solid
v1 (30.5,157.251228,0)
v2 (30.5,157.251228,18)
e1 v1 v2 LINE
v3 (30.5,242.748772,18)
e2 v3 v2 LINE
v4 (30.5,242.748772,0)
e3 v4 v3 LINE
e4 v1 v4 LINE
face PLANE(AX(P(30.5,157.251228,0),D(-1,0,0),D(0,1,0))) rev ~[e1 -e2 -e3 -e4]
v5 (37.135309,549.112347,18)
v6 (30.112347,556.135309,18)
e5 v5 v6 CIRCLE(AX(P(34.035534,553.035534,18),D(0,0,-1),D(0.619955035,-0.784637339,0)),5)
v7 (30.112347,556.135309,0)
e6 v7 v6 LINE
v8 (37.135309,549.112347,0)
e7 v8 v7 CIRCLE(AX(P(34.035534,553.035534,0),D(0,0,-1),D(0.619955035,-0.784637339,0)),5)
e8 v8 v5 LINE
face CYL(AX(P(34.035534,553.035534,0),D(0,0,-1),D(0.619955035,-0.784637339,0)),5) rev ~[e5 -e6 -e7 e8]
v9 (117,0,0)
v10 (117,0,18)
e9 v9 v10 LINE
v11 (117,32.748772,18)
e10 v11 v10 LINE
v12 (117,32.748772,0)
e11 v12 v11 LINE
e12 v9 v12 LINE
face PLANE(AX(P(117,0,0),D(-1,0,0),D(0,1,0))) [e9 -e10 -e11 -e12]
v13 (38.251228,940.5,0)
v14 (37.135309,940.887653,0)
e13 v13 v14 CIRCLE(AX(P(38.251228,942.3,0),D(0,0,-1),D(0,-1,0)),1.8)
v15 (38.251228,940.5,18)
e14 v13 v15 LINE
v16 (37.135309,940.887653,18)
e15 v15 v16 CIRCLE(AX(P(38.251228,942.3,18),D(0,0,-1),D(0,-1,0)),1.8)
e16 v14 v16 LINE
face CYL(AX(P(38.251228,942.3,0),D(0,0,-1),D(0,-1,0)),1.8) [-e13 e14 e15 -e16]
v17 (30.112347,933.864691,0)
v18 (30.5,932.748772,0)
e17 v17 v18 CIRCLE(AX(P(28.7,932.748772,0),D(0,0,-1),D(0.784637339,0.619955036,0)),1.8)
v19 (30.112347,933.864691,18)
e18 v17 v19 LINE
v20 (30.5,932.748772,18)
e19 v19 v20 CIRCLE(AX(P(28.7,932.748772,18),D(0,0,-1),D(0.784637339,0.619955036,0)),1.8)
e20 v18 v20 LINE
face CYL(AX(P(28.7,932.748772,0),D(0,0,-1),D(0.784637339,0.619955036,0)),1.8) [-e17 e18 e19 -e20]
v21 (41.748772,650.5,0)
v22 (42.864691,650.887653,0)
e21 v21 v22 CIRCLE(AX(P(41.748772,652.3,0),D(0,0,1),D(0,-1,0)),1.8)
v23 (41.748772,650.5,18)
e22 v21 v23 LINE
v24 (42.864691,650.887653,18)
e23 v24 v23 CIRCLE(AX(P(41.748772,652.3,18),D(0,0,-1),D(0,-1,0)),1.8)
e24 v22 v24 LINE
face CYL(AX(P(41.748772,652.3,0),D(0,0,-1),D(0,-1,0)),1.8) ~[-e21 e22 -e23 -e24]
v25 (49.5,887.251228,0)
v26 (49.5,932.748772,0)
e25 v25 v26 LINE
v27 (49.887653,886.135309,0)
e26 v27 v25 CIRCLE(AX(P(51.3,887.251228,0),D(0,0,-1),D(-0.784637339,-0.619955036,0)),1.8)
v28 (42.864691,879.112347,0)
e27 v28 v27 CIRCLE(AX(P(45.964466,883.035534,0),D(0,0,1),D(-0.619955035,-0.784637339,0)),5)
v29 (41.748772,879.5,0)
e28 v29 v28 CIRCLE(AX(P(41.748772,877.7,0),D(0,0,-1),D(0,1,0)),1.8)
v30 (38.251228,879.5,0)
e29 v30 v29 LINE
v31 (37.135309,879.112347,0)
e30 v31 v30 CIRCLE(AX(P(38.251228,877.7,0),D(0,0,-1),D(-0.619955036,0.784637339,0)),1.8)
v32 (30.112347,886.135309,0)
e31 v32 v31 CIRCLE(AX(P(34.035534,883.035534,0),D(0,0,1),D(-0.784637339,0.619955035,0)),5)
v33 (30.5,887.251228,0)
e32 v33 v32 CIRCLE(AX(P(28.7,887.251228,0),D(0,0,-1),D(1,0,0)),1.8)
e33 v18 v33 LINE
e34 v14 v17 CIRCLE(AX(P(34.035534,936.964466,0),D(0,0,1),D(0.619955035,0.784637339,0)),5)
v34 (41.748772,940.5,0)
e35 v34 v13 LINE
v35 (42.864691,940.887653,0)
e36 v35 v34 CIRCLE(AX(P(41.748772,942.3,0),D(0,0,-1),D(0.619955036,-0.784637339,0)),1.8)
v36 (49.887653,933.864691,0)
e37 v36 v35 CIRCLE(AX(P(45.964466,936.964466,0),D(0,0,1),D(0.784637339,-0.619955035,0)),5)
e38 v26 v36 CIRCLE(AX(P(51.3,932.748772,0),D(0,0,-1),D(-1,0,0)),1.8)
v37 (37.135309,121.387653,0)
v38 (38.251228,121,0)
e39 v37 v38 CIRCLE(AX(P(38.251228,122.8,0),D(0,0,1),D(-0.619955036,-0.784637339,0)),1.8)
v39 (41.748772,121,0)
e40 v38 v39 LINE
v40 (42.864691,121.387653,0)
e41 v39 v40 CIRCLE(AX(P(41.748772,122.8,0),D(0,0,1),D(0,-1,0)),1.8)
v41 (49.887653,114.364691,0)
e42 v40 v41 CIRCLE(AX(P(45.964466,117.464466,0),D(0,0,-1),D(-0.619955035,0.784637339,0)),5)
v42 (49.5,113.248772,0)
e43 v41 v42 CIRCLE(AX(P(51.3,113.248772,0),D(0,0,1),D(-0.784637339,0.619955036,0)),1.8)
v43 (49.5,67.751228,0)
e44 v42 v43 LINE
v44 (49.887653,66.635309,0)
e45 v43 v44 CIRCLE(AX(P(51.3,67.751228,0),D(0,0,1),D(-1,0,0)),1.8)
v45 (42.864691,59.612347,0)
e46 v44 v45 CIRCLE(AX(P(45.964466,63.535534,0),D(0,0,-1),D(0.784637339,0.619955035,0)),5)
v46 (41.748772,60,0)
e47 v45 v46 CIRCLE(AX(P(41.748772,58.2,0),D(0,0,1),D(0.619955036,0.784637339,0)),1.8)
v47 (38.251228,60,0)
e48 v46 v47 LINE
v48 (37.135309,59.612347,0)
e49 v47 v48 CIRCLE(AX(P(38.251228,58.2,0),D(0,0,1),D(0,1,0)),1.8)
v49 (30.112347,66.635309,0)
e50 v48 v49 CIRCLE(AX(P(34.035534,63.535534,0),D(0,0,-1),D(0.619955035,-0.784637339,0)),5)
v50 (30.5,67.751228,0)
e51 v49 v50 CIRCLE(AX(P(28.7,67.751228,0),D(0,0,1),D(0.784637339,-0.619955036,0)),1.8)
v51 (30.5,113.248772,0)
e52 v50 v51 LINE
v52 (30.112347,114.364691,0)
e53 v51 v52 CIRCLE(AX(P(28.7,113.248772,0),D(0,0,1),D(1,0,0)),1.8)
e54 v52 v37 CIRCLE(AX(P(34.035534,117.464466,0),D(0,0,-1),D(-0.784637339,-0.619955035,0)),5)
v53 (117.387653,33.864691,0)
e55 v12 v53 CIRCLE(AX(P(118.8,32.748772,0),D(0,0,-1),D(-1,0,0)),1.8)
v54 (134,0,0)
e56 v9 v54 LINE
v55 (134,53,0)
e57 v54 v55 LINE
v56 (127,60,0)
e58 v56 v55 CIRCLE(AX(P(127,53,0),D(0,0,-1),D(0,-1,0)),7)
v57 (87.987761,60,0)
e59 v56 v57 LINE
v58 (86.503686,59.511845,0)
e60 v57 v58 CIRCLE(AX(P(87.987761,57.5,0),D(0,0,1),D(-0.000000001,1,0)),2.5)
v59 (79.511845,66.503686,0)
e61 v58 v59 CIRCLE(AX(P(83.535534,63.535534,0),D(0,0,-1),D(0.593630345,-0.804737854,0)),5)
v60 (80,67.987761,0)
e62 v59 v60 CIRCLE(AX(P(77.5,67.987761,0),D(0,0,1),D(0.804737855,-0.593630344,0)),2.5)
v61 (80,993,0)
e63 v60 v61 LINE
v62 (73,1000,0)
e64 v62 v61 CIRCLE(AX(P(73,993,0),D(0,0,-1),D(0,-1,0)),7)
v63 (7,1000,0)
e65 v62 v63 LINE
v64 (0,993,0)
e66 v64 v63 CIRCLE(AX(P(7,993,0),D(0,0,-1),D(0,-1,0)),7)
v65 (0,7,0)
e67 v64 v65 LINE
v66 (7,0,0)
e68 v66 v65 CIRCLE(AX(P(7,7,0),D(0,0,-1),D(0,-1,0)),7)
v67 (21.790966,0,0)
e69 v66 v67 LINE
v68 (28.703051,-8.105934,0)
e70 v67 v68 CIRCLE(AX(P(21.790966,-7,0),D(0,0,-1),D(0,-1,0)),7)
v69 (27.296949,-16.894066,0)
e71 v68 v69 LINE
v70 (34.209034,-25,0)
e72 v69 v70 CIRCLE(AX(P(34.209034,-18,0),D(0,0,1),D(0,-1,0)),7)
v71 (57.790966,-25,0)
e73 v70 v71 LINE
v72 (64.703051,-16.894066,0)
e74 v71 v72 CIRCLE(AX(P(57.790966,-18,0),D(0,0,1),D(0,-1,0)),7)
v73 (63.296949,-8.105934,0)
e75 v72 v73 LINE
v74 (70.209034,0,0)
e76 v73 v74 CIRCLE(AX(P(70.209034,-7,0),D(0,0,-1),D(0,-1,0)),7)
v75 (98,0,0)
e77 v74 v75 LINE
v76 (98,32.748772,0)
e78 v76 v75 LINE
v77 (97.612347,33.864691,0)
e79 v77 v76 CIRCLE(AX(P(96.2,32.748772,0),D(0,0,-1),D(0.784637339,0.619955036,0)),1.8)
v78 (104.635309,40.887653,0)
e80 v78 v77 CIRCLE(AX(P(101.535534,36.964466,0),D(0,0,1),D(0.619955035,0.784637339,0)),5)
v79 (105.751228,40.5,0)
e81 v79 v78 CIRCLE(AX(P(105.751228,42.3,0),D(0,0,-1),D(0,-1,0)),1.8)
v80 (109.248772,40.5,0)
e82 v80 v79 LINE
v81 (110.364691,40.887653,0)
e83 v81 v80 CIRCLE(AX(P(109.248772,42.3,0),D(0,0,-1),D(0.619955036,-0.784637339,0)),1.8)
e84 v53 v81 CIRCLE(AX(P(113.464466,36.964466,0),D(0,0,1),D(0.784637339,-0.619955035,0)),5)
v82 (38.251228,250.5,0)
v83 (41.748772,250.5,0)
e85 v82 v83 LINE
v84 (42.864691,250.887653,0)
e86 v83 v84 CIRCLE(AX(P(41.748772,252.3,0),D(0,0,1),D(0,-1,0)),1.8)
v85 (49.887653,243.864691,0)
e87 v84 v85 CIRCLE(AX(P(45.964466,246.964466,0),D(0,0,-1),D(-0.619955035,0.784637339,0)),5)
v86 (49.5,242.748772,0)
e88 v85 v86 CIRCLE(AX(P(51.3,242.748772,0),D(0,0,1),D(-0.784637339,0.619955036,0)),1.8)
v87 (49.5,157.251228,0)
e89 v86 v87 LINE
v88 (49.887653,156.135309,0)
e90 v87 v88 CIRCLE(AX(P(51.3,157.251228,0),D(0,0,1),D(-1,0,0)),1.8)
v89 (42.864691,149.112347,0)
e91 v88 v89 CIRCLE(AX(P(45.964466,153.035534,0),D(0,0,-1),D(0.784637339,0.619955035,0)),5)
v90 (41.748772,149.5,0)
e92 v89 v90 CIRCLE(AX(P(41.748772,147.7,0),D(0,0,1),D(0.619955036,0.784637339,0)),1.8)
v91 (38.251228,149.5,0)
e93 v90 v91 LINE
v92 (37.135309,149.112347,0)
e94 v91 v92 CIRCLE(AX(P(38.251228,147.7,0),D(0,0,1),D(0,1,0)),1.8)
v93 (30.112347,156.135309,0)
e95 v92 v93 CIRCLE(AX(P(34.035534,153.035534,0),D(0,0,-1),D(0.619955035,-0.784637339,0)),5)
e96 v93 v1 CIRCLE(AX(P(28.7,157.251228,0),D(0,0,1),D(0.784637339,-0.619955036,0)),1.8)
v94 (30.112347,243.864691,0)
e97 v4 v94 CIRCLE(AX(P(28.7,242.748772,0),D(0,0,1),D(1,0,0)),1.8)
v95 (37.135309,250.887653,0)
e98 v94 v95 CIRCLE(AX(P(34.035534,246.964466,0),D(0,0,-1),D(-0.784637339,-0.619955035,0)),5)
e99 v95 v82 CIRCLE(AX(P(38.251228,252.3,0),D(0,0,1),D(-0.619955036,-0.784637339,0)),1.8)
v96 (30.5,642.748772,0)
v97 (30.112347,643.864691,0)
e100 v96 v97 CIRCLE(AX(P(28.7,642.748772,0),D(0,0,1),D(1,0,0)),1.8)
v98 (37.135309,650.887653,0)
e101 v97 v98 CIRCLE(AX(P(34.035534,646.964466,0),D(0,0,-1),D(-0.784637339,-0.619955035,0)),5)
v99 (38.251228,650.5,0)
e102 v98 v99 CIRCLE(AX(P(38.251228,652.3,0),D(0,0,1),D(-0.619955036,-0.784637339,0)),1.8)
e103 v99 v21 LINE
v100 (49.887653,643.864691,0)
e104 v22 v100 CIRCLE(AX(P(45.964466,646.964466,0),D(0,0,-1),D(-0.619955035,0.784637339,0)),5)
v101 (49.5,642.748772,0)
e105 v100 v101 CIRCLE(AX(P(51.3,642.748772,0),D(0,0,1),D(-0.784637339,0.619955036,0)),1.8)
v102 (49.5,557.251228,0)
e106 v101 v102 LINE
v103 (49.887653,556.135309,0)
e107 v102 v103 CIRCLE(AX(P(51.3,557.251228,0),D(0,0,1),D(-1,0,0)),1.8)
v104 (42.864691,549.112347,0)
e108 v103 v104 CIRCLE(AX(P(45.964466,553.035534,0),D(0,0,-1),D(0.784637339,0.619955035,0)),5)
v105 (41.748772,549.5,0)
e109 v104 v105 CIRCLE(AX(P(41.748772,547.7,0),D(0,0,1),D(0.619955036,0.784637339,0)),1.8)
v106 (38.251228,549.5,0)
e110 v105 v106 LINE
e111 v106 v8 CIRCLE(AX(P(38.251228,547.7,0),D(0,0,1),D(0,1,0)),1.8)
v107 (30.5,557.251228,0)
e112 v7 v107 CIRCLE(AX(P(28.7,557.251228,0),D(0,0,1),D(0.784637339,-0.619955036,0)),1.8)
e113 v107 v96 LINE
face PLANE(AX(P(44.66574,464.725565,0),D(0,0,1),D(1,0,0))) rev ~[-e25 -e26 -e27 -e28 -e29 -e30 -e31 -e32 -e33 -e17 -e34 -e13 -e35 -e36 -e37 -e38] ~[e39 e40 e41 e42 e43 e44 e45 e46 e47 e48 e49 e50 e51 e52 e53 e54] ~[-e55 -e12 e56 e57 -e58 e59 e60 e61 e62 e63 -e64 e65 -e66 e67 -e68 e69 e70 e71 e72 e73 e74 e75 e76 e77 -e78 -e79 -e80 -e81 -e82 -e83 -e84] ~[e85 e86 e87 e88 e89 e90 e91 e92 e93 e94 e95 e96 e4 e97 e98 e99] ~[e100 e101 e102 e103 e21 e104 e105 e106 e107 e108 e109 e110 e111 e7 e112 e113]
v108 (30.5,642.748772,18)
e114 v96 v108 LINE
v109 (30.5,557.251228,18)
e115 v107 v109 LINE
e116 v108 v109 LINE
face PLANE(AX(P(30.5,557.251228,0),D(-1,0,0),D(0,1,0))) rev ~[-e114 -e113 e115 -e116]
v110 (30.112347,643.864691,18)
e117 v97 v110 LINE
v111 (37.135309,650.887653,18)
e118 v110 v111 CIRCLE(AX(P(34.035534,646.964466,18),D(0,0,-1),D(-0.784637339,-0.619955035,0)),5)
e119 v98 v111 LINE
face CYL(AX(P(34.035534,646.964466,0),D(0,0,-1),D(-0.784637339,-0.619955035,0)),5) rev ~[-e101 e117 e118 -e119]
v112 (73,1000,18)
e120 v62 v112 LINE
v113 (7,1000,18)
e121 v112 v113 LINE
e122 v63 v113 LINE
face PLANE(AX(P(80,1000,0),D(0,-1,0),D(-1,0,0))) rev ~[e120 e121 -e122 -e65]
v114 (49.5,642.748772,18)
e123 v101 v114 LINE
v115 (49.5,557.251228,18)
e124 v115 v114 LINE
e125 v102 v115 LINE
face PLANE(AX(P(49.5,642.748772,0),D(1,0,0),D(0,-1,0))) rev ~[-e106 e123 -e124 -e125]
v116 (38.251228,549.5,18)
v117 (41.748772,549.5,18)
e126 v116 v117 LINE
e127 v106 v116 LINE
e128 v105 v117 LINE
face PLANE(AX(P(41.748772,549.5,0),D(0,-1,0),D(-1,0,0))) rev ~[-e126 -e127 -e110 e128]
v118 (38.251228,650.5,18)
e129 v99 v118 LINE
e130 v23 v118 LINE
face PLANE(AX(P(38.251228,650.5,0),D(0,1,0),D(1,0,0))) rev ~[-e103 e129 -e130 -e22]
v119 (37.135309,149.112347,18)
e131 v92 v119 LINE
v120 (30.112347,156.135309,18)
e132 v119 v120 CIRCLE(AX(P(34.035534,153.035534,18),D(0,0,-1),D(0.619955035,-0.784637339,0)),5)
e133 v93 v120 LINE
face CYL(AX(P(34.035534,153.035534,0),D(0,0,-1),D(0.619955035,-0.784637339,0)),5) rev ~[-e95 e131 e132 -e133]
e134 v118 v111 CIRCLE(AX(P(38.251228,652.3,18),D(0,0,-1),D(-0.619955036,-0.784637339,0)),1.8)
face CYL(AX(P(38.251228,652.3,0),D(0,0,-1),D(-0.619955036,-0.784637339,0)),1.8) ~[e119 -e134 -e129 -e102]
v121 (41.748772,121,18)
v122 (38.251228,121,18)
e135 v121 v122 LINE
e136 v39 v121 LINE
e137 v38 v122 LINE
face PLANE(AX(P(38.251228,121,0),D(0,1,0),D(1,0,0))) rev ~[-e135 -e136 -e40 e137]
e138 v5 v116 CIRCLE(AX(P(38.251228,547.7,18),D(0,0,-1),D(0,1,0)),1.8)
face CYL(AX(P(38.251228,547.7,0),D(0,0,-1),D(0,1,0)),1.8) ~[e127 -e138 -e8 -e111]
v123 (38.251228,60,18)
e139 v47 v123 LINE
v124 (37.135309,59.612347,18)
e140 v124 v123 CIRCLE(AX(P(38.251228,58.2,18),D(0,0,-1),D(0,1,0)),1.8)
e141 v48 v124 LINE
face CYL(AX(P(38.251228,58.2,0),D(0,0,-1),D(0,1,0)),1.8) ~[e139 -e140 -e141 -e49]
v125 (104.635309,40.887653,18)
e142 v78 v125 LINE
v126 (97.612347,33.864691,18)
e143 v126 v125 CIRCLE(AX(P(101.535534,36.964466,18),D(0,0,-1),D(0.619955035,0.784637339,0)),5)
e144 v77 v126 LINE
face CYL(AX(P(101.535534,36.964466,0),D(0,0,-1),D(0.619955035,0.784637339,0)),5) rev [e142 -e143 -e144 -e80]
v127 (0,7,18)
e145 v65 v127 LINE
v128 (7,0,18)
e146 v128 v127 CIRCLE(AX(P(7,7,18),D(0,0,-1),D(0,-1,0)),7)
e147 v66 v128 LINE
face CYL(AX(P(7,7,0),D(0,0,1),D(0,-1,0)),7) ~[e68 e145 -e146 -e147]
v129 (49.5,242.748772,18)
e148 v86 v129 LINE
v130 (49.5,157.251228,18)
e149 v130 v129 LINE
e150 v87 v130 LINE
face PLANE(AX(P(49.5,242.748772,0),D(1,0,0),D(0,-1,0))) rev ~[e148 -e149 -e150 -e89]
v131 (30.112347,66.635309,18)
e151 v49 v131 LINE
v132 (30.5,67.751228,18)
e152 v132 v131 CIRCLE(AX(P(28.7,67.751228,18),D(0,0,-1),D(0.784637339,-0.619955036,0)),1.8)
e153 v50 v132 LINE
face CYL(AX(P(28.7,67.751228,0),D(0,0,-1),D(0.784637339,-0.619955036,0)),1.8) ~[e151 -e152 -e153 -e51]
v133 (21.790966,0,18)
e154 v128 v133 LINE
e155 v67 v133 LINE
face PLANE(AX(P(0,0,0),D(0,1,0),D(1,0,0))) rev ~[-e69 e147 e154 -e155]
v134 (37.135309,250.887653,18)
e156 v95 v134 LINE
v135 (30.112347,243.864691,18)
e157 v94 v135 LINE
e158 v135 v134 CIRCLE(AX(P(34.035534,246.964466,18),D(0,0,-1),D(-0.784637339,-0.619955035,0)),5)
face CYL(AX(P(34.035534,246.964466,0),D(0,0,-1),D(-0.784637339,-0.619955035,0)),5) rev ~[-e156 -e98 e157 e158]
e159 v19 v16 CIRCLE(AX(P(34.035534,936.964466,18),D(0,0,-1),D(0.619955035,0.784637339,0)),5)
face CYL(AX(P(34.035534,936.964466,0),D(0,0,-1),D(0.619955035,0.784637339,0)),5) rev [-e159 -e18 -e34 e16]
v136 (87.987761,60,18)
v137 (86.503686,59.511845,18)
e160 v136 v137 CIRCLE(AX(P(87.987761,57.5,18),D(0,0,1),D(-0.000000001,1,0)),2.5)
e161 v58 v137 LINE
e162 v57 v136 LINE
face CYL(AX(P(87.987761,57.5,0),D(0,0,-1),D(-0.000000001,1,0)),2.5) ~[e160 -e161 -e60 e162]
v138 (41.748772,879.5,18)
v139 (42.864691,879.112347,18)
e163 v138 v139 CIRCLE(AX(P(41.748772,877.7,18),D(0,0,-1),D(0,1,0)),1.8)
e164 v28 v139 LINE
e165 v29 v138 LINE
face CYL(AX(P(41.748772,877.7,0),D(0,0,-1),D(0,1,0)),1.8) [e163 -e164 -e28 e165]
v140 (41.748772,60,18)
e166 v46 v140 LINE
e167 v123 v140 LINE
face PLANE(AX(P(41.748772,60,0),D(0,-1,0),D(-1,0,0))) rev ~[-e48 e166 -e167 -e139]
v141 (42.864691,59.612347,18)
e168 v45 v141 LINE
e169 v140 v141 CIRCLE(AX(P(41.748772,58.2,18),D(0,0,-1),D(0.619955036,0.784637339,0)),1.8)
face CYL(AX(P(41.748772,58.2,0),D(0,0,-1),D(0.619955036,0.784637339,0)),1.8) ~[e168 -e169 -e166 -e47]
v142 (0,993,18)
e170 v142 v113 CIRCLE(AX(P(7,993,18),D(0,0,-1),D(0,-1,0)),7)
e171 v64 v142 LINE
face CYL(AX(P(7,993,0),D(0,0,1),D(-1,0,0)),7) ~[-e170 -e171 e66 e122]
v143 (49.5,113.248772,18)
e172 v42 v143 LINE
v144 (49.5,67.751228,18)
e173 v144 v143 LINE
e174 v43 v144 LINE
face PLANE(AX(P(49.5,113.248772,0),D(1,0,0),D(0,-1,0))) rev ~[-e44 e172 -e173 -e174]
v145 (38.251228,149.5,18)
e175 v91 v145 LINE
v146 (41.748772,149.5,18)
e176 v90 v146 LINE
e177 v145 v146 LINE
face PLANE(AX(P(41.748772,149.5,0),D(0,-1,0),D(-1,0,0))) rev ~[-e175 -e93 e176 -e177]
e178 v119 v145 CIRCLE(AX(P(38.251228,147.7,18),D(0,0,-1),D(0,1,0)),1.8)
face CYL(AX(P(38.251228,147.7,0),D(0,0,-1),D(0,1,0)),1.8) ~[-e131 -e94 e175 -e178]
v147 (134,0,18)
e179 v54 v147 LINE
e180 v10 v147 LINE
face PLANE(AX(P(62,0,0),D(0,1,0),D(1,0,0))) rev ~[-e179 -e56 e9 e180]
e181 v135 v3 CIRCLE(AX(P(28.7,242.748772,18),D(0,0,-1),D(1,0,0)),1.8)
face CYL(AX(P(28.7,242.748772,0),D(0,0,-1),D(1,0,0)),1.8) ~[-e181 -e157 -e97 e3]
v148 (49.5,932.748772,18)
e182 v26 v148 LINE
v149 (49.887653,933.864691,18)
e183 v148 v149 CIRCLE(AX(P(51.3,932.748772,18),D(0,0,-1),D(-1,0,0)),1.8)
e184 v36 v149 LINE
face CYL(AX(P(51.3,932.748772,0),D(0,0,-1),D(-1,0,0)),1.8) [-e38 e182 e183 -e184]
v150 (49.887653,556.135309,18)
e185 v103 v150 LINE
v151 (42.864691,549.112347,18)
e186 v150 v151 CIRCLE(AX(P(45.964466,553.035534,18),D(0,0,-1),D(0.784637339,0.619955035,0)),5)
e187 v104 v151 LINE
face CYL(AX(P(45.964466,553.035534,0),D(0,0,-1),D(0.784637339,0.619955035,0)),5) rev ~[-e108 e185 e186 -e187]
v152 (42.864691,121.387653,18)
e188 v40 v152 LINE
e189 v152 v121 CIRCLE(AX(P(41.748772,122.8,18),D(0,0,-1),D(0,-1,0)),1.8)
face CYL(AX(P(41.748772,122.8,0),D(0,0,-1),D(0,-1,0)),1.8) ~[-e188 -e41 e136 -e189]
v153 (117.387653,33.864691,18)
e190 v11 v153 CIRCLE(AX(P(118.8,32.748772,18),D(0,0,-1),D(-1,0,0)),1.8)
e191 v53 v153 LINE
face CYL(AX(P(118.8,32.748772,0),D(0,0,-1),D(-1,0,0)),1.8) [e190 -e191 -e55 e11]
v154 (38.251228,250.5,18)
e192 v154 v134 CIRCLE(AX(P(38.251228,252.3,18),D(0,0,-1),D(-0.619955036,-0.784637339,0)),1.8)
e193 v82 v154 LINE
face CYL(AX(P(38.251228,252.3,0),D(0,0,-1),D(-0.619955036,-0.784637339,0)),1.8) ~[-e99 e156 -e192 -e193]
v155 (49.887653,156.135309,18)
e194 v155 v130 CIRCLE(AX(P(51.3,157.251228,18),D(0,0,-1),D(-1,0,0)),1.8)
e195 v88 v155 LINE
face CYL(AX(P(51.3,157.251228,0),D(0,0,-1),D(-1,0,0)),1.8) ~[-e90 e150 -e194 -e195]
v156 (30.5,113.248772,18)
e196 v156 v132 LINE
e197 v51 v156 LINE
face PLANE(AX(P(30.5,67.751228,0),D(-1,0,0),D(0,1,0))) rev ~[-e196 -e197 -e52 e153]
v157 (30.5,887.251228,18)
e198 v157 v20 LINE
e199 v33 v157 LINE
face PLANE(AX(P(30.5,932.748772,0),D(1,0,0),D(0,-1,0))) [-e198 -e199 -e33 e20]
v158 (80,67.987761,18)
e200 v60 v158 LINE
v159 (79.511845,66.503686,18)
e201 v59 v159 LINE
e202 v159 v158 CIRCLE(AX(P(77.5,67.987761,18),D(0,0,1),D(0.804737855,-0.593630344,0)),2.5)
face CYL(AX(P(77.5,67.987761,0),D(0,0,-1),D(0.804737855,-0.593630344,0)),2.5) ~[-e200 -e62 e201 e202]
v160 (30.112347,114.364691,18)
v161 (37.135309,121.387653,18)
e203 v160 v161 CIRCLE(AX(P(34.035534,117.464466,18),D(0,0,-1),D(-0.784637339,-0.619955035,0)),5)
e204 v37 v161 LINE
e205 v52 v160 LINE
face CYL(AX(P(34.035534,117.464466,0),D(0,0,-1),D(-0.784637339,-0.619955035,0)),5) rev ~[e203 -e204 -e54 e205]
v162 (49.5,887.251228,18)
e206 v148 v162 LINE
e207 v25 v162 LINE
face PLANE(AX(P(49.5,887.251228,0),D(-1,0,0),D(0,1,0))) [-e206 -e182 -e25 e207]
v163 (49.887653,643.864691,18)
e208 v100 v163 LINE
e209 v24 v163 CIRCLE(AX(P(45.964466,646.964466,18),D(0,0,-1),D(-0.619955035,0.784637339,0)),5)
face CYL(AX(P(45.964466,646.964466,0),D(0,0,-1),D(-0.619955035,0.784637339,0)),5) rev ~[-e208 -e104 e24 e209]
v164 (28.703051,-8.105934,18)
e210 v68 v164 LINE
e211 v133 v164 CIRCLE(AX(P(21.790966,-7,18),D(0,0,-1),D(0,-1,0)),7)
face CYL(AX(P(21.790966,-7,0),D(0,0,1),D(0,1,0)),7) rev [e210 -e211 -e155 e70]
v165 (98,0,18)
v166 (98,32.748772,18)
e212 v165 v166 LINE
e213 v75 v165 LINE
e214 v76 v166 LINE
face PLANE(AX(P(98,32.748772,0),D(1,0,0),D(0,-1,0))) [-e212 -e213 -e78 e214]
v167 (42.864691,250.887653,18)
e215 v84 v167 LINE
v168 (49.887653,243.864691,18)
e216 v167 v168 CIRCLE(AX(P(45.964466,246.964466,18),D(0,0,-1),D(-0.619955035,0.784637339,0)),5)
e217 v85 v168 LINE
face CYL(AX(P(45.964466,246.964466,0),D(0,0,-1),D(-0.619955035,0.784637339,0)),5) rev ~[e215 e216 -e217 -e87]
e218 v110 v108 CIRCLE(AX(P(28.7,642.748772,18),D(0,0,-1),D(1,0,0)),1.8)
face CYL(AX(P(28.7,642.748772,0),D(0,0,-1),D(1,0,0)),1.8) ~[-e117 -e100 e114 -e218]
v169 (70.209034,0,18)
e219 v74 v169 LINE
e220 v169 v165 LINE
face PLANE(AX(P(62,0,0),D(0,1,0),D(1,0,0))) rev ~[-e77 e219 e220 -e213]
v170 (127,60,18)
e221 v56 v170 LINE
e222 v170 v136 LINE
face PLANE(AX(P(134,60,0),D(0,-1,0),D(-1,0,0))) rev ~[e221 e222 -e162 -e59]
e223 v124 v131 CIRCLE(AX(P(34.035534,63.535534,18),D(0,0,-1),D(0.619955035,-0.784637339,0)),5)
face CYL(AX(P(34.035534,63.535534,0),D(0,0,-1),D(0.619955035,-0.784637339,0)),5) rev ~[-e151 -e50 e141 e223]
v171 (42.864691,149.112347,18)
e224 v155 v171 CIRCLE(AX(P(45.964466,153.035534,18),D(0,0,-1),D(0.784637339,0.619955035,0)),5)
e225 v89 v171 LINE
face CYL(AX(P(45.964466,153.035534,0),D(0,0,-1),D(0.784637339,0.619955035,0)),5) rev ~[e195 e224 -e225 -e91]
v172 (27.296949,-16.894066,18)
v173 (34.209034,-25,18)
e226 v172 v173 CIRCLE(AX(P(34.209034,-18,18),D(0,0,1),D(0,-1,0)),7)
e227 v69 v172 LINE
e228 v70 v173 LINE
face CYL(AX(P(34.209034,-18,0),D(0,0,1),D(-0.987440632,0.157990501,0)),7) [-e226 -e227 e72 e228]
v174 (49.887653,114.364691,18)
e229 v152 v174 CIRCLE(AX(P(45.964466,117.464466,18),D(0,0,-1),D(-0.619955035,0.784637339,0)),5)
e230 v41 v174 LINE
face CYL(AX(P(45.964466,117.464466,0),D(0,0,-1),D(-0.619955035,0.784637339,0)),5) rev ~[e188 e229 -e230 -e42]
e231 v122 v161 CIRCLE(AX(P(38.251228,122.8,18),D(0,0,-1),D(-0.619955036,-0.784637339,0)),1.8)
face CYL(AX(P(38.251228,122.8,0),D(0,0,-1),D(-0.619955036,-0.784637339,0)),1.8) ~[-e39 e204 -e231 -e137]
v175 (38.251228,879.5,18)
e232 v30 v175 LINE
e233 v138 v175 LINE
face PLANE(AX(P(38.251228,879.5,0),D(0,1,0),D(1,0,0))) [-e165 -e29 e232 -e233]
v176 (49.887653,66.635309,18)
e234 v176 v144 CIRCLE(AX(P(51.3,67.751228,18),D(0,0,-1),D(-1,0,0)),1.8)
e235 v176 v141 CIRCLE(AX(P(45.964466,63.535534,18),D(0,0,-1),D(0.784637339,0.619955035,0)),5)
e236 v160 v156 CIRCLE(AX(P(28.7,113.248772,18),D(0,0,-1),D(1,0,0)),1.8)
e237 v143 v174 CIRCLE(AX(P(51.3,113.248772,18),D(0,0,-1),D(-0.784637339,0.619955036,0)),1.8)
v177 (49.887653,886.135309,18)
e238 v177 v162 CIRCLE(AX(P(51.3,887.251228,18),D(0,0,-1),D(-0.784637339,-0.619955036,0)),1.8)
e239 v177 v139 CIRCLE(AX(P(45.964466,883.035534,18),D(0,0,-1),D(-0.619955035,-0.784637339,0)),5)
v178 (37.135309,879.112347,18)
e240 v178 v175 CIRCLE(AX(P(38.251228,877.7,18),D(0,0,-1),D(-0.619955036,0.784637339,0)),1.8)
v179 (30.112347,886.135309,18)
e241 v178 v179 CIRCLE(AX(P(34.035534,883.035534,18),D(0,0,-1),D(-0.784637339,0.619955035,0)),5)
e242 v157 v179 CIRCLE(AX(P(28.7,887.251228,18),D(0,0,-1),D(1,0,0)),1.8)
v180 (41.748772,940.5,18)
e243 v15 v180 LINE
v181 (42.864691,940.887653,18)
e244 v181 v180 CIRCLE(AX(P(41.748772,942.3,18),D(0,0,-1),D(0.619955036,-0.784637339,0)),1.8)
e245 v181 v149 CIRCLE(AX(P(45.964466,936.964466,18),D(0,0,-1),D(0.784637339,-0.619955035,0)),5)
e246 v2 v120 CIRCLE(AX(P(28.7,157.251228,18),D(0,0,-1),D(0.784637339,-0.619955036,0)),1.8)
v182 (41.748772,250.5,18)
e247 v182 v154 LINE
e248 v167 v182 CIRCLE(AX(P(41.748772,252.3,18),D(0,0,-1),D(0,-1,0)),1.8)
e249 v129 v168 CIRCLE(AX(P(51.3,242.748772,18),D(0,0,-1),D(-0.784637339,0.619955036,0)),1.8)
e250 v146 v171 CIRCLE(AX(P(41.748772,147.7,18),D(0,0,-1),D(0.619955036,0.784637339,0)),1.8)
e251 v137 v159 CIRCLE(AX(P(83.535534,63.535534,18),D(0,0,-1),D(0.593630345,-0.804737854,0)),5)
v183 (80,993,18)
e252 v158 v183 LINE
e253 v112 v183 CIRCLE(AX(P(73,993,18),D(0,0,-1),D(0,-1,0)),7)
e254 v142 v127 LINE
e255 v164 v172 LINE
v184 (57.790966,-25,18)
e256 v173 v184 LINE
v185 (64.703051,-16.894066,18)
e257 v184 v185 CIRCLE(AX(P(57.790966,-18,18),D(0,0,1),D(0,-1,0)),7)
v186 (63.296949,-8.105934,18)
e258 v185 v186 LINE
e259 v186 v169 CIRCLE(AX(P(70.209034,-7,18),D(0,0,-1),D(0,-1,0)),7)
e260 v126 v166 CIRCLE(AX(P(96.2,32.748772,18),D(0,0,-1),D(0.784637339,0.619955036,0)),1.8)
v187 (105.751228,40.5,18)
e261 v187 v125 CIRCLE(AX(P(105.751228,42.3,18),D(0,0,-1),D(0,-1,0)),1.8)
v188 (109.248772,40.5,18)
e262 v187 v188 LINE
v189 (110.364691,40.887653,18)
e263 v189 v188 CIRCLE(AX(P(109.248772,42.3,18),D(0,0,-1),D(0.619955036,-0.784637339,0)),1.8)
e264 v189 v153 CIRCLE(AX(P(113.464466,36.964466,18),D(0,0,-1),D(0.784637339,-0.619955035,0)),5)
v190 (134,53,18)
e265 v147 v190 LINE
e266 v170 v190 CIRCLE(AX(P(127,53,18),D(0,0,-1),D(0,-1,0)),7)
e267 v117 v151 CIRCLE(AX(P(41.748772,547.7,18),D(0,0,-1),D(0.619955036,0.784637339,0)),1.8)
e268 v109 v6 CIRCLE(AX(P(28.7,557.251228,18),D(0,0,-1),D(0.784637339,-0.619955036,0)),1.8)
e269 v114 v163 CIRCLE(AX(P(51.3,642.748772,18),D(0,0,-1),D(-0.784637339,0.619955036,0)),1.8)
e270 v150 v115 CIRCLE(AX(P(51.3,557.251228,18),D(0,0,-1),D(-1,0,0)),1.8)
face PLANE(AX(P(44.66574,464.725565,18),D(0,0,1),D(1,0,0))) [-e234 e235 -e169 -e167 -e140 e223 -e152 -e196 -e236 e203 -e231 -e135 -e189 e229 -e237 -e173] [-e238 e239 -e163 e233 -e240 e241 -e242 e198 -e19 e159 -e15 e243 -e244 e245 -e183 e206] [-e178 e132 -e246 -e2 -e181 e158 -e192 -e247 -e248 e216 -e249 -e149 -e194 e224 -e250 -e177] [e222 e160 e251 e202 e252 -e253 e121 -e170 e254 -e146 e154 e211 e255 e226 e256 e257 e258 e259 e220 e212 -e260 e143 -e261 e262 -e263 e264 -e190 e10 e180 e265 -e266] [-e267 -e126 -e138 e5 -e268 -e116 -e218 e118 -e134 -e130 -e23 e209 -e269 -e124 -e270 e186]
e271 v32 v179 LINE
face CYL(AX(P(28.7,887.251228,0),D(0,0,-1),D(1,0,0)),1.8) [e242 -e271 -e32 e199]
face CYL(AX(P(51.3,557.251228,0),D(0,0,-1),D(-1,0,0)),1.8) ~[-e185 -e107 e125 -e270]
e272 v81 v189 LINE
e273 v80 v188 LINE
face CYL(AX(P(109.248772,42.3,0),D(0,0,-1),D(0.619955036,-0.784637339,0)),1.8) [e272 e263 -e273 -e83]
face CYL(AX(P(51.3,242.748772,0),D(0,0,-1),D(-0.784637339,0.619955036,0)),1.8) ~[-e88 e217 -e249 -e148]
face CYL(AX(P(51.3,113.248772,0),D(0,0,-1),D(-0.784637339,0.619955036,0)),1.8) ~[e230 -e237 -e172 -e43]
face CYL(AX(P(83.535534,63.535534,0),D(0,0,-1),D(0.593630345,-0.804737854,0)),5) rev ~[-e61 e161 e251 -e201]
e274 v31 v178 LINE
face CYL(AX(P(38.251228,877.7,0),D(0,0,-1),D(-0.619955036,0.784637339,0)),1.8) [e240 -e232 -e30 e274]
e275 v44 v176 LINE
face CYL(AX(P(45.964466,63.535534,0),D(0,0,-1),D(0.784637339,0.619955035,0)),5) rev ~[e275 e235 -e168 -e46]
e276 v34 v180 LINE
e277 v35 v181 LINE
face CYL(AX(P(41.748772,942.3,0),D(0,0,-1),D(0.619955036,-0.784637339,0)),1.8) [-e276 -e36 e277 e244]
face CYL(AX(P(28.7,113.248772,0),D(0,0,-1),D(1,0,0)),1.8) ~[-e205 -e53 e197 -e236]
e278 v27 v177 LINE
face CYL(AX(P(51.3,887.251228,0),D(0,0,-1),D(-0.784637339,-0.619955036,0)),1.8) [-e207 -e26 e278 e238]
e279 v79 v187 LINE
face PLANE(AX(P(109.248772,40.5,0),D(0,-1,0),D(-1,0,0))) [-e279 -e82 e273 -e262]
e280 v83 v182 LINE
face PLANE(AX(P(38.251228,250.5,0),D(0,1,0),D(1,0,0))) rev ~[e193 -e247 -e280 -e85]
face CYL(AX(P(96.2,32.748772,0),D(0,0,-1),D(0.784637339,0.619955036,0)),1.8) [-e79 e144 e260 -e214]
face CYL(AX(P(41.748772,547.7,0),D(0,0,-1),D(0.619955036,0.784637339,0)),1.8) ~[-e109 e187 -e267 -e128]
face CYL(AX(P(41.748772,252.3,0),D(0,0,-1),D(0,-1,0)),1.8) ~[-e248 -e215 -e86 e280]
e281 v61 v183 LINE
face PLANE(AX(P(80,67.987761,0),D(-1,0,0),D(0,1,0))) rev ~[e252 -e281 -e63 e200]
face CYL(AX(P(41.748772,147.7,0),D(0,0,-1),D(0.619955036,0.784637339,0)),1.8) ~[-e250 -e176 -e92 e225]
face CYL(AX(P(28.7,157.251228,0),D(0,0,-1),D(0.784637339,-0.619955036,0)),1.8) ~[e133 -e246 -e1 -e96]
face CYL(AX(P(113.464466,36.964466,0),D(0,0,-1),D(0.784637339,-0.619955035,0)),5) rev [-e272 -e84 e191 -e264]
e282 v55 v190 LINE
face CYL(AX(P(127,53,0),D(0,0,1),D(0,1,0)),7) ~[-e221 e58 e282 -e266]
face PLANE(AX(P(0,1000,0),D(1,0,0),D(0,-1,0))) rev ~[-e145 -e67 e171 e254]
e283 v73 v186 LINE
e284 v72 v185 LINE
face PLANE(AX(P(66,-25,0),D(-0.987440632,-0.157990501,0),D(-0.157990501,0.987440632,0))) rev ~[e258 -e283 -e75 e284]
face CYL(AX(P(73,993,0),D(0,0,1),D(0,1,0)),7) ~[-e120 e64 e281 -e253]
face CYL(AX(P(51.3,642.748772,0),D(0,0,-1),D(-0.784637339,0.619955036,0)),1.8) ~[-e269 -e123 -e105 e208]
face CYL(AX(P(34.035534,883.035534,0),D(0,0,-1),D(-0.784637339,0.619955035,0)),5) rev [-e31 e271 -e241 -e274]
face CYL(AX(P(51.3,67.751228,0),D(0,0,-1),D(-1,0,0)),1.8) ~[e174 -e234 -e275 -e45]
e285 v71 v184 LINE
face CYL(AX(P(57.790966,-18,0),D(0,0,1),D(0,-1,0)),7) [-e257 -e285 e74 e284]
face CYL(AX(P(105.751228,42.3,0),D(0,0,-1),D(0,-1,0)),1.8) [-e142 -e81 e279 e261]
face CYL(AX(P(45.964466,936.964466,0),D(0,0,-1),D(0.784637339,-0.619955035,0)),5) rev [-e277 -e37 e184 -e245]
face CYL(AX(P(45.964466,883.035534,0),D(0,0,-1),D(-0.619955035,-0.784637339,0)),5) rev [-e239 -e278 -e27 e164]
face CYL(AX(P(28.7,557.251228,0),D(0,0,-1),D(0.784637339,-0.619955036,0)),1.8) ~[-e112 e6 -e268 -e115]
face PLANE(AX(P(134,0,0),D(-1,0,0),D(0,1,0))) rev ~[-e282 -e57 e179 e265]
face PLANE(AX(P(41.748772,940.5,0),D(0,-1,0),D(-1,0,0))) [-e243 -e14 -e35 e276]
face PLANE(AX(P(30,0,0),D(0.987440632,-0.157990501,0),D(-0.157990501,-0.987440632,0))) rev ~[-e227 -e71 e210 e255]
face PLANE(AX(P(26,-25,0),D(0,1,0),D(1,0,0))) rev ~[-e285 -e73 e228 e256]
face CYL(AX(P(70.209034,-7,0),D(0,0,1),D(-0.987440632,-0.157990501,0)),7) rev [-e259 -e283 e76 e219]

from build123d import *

# Parameters (mm, degrees)
BOSS_EXTRUDE1_DEPTH = 18
CUT_EXTRUDE1_DEPTH  = 19
CUT_EXTRUDE2_DEPTH  = 19
CUT_EXTRUDE3_DEPTH  = 19
LPATTERN1_COUNT     = 2
LPATTERN1_PITCH     = 400
FILLET1_R           = 7


with BuildPart() as part:
    # Sketch1 → Boss-Extrude1 (new body)
    with BuildSketch(Plane.XY):
        with BuildLine():
            Line((0, 0), (30, 0))
            Line((30, 0), (26, -25))
            Line((26, -25), (66, -25))
            Line((66, -25), (62, 0))
            Line((62, 0), (134, 0))
            Line((134, 0), (134, 60))
            Line((134, 60), (87.987761491, 60))
            ThreePointArc((87.987761491, 60), (87.206612206, 59.874827529), (86.503685629, 59.511844635))
            ThreePointArc((86.503685629, 59.511844635), (80, 60), (79.511844635, 66.503685629))
            ThreePointArc((79.511844635, 66.503685629), (79.874827529, 67.206612206), (80, 67.987761491))
            Line((80, 67.987761491), (80, 1000))
            Line((80, 1000), (0, 1000))
            Line((0, 1000), (0, 0))
        make_face()
    extrude(amount=BOSS_EXTRUDE1_DEPTH)

    # Sketch2 → Cut-Extrude1 (cut, through all)
    with BuildSketch(Plane.XY):
        with BuildLine():
            Line((49.5, 642.748771852), (49.5, 557.251228148))
            ThreePointArc((49.5, 557.251228148), (49.599672829, 556.660561143), (49.88765279, 556.135309084))
            ThreePointArc((49.88765279, 556.135309084), (49.5, 549.5), (42.864690916, 549.11234721))
            ThreePointArc((42.864690916, 549.11234721), (42.339438857, 549.400327171), (41.748771852, 549.5))
            Line((41.748771852, 549.5), (38.251228148, 549.5))
            ThreePointArc((38.251228148, 549.5), (37.660561143, 549.400327171), (37.135309084, 549.11234721))
            ThreePointArc((37.135309084, 549.11234721), (30.5, 549.5), (30.11234721, 556.135309084))
            ThreePointArc((30.11234721, 556.135309084), (30.400327171, 556.660561143), (30.5, 557.251228148))
            Line((30.5, 557.251228148), (30.5, 642.748771852))
            ThreePointArc((30.5, 642.748771852), (30.400327171, 643.339438857), (30.11234721, 643.864690916))
            ThreePointArc((30.11234721, 643.864690916), (30.5, 650.5), (37.135309084, 650.88765279))
            ThreePointArc((37.135309084, 650.88765279), (37.660561143, 650.599672829), (38.251228148, 650.5))
            Line((38.251228148, 650.5), (41.748771852, 650.5))
            ThreePointArc((41.748771852, 650.5), (42.339438857, 650.599672829), (42.864690916, 650.88765279))
            ThreePointArc((42.864690916, 650.88765279), (49.5, 650.5), (49.88765279, 643.864690916))
            ThreePointArc((49.88765279, 643.864690916), (49.599672829, 643.339438857), (49.5, 642.748771852))
        make_face()
    cut_extrude1 = extrude(amount=CUT_EXTRUDE1_DEPTH, mode=Mode.SUBTRACT)

    # Sketch3 → Cut-Extrude2 (cut, through all)
    with BuildSketch(Plane.XY):
        with BuildLine():
            Line((98, 0), (117, 0))
            Line((117, 0), (117, 32.748771852))
            ThreePointArc((117, 32.748771852), (117.099672829, 33.339438857), (117.38765279, 33.864690916))
            ThreePointArc((117.38765279, 33.864690916), (117, 40.5), (110.364690916, 40.88765279))
            ThreePointArc((110.364690916, 40.88765279), (109.839438857, 40.599672829), (109.248771852, 40.5))
            Line((109.248771852, 40.5), (105.751228148, 40.5))
            ThreePointArc((105.751228148, 40.5), (105.160561143, 40.599672829), (104.635309084, 40.88765279))
            ThreePointArc((104.635309084, 40.88765279), (98, 40.5), (97.61234721, 33.864690916))
            ThreePointArc((97.61234721, 33.864690916), (97.900327171, 33.339438857), (98, 32.748771852))
            Line((98, 32.748771852), (98, 0))
        make_face()
    extrude(amount=CUT_EXTRUDE2_DEPTH, mode=Mode.SUBTRACT)

    # Sketch4 → Cut-Extrude3 (cut, through all)
    with BuildSketch(Plane.XY):
        with BuildLine():
            Line((49.5, 113.248771852), (49.5, 67.751228148))
            ThreePointArc((49.5, 67.751228148), (49.599672829, 67.160561143), (49.88765279, 66.635309084))
            ThreePointArc((49.88765279, 66.635309084), (49.5, 60), (42.864690916, 59.61234721))
            ThreePointArc((42.864690916, 59.61234721), (42.339438857, 59.900327171), (41.748771852, 60))
            Line((41.748771852, 60), (38.251228148, 60))
            ThreePointArc((38.251228148, 60), (37.660561143, 59.900327171), (37.135309084, 59.61234721))
            ThreePointArc((37.135309084, 59.61234721), (30.5, 60), (30.11234721, 66.635309084))
            ThreePointArc((30.11234721, 66.635309084), (30.400327171, 67.160561143), (30.5, 67.751228148))
            Line((30.5, 67.751228148), (30.5, 113.248771852))
            ThreePointArc((30.5, 113.248771852), (30.400327171, 113.839438857), (30.11234721, 114.364690916))
            ThreePointArc((30.11234721, 114.364690916), (30.5, 121), (37.135309084, 121.38765279))
            ThreePointArc((37.135309084, 121.38765279), (37.660561143, 121.099672829), (38.251228148, 121))
            Line((38.251228148, 121), (41.748771852, 121))
            ThreePointArc((41.748771852, 121), (42.339438857, 121.099672829), (42.864690916, 121.38765279))
            ThreePointArc((42.864690916, 121.38765279), (49.5, 121), (49.88765279, 114.364690916))
            ThreePointArc((49.88765279, 114.364690916), (49.599672829, 113.839438857), (49.5, 113.248771852))
        make_face()
        with BuildLine():
            Line((38.251228148, 879.5), (41.748771852, 879.5))
            ThreePointArc((41.748771852, 879.5), (42.339438857, 879.400327171), (42.864690916, 879.11234721))
            ThreePointArc((42.864690916, 879.11234721), (49.5, 879.5), (49.88765279, 886.135309084))
            ThreePointArc((49.88765279, 886.135309084), (49.599672829, 886.660561143), (49.5, 887.251228148))
            Line((49.5, 887.251228148), (49.5, 932.748771852))
            ThreePointArc((49.5, 932.748771852), (49.599672829, 933.339438857), (49.88765279, 933.864690916))
            ThreePointArc((49.88765279, 933.864690916), (49.5, 940.5), (42.864690916, 940.88765279))
            ThreePointArc((42.864690916, 940.88765279), (42.339438857, 940.599672829), (41.748771852, 940.5))
            Line((41.748771852, 940.5), (38.251228148, 940.5))
            ThreePointArc((38.251228148, 940.5), (37.660561143, 940.599672829), (37.135309084, 940.88765279))
            ThreePointArc((37.135309084, 940.88765279), (30.5, 940.5), (30.11234721, 933.864690916))
            ThreePointArc((30.11234721, 933.864690916), (30.400327171, 933.339438857), (30.5, 932.748771852))
            Line((30.5, 932.748771852), (30.5, 887.251228148))
            ThreePointArc((30.5, 887.251228148), (30.400327171, 886.660561143), (30.11234721, 886.135309084))
            ThreePointArc((30.11234721, 886.135309084), (30.5, 879.5), (37.135309084, 879.11234721))
            ThreePointArc((37.135309084, 879.11234721), (37.660561143, 879.400327171), (38.251228148, 879.5))
        make_face()
    extrude(amount=CUT_EXTRUDE3_DEPTH, mode=Mode.SUBTRACT)

    # LPattern1: Cut-Extrude1 ×2
    with Locations(*[(0, -i * LPATTERN1_PITCH, 0) for i in range(1, LPATTERN1_COUNT)]):
        add(cut_extrude1, mode=Mode.SUBTRACT)

    # Fillet1
    fillet1_edges = [part.edges().sort_by_distance(p)[0] for p in [
        (0, 0, 9),
        (0, 1000, 9),
        (80, 1000, 9),
        (134, 60, 9),
        (62, 0, 9),
        (66, -25, 9),
        (26, -25, 9),
        (30, 0, 9),
    ]]
    fillet(fillet1_edges, radius=FILLET1_R)


solid = part.part
